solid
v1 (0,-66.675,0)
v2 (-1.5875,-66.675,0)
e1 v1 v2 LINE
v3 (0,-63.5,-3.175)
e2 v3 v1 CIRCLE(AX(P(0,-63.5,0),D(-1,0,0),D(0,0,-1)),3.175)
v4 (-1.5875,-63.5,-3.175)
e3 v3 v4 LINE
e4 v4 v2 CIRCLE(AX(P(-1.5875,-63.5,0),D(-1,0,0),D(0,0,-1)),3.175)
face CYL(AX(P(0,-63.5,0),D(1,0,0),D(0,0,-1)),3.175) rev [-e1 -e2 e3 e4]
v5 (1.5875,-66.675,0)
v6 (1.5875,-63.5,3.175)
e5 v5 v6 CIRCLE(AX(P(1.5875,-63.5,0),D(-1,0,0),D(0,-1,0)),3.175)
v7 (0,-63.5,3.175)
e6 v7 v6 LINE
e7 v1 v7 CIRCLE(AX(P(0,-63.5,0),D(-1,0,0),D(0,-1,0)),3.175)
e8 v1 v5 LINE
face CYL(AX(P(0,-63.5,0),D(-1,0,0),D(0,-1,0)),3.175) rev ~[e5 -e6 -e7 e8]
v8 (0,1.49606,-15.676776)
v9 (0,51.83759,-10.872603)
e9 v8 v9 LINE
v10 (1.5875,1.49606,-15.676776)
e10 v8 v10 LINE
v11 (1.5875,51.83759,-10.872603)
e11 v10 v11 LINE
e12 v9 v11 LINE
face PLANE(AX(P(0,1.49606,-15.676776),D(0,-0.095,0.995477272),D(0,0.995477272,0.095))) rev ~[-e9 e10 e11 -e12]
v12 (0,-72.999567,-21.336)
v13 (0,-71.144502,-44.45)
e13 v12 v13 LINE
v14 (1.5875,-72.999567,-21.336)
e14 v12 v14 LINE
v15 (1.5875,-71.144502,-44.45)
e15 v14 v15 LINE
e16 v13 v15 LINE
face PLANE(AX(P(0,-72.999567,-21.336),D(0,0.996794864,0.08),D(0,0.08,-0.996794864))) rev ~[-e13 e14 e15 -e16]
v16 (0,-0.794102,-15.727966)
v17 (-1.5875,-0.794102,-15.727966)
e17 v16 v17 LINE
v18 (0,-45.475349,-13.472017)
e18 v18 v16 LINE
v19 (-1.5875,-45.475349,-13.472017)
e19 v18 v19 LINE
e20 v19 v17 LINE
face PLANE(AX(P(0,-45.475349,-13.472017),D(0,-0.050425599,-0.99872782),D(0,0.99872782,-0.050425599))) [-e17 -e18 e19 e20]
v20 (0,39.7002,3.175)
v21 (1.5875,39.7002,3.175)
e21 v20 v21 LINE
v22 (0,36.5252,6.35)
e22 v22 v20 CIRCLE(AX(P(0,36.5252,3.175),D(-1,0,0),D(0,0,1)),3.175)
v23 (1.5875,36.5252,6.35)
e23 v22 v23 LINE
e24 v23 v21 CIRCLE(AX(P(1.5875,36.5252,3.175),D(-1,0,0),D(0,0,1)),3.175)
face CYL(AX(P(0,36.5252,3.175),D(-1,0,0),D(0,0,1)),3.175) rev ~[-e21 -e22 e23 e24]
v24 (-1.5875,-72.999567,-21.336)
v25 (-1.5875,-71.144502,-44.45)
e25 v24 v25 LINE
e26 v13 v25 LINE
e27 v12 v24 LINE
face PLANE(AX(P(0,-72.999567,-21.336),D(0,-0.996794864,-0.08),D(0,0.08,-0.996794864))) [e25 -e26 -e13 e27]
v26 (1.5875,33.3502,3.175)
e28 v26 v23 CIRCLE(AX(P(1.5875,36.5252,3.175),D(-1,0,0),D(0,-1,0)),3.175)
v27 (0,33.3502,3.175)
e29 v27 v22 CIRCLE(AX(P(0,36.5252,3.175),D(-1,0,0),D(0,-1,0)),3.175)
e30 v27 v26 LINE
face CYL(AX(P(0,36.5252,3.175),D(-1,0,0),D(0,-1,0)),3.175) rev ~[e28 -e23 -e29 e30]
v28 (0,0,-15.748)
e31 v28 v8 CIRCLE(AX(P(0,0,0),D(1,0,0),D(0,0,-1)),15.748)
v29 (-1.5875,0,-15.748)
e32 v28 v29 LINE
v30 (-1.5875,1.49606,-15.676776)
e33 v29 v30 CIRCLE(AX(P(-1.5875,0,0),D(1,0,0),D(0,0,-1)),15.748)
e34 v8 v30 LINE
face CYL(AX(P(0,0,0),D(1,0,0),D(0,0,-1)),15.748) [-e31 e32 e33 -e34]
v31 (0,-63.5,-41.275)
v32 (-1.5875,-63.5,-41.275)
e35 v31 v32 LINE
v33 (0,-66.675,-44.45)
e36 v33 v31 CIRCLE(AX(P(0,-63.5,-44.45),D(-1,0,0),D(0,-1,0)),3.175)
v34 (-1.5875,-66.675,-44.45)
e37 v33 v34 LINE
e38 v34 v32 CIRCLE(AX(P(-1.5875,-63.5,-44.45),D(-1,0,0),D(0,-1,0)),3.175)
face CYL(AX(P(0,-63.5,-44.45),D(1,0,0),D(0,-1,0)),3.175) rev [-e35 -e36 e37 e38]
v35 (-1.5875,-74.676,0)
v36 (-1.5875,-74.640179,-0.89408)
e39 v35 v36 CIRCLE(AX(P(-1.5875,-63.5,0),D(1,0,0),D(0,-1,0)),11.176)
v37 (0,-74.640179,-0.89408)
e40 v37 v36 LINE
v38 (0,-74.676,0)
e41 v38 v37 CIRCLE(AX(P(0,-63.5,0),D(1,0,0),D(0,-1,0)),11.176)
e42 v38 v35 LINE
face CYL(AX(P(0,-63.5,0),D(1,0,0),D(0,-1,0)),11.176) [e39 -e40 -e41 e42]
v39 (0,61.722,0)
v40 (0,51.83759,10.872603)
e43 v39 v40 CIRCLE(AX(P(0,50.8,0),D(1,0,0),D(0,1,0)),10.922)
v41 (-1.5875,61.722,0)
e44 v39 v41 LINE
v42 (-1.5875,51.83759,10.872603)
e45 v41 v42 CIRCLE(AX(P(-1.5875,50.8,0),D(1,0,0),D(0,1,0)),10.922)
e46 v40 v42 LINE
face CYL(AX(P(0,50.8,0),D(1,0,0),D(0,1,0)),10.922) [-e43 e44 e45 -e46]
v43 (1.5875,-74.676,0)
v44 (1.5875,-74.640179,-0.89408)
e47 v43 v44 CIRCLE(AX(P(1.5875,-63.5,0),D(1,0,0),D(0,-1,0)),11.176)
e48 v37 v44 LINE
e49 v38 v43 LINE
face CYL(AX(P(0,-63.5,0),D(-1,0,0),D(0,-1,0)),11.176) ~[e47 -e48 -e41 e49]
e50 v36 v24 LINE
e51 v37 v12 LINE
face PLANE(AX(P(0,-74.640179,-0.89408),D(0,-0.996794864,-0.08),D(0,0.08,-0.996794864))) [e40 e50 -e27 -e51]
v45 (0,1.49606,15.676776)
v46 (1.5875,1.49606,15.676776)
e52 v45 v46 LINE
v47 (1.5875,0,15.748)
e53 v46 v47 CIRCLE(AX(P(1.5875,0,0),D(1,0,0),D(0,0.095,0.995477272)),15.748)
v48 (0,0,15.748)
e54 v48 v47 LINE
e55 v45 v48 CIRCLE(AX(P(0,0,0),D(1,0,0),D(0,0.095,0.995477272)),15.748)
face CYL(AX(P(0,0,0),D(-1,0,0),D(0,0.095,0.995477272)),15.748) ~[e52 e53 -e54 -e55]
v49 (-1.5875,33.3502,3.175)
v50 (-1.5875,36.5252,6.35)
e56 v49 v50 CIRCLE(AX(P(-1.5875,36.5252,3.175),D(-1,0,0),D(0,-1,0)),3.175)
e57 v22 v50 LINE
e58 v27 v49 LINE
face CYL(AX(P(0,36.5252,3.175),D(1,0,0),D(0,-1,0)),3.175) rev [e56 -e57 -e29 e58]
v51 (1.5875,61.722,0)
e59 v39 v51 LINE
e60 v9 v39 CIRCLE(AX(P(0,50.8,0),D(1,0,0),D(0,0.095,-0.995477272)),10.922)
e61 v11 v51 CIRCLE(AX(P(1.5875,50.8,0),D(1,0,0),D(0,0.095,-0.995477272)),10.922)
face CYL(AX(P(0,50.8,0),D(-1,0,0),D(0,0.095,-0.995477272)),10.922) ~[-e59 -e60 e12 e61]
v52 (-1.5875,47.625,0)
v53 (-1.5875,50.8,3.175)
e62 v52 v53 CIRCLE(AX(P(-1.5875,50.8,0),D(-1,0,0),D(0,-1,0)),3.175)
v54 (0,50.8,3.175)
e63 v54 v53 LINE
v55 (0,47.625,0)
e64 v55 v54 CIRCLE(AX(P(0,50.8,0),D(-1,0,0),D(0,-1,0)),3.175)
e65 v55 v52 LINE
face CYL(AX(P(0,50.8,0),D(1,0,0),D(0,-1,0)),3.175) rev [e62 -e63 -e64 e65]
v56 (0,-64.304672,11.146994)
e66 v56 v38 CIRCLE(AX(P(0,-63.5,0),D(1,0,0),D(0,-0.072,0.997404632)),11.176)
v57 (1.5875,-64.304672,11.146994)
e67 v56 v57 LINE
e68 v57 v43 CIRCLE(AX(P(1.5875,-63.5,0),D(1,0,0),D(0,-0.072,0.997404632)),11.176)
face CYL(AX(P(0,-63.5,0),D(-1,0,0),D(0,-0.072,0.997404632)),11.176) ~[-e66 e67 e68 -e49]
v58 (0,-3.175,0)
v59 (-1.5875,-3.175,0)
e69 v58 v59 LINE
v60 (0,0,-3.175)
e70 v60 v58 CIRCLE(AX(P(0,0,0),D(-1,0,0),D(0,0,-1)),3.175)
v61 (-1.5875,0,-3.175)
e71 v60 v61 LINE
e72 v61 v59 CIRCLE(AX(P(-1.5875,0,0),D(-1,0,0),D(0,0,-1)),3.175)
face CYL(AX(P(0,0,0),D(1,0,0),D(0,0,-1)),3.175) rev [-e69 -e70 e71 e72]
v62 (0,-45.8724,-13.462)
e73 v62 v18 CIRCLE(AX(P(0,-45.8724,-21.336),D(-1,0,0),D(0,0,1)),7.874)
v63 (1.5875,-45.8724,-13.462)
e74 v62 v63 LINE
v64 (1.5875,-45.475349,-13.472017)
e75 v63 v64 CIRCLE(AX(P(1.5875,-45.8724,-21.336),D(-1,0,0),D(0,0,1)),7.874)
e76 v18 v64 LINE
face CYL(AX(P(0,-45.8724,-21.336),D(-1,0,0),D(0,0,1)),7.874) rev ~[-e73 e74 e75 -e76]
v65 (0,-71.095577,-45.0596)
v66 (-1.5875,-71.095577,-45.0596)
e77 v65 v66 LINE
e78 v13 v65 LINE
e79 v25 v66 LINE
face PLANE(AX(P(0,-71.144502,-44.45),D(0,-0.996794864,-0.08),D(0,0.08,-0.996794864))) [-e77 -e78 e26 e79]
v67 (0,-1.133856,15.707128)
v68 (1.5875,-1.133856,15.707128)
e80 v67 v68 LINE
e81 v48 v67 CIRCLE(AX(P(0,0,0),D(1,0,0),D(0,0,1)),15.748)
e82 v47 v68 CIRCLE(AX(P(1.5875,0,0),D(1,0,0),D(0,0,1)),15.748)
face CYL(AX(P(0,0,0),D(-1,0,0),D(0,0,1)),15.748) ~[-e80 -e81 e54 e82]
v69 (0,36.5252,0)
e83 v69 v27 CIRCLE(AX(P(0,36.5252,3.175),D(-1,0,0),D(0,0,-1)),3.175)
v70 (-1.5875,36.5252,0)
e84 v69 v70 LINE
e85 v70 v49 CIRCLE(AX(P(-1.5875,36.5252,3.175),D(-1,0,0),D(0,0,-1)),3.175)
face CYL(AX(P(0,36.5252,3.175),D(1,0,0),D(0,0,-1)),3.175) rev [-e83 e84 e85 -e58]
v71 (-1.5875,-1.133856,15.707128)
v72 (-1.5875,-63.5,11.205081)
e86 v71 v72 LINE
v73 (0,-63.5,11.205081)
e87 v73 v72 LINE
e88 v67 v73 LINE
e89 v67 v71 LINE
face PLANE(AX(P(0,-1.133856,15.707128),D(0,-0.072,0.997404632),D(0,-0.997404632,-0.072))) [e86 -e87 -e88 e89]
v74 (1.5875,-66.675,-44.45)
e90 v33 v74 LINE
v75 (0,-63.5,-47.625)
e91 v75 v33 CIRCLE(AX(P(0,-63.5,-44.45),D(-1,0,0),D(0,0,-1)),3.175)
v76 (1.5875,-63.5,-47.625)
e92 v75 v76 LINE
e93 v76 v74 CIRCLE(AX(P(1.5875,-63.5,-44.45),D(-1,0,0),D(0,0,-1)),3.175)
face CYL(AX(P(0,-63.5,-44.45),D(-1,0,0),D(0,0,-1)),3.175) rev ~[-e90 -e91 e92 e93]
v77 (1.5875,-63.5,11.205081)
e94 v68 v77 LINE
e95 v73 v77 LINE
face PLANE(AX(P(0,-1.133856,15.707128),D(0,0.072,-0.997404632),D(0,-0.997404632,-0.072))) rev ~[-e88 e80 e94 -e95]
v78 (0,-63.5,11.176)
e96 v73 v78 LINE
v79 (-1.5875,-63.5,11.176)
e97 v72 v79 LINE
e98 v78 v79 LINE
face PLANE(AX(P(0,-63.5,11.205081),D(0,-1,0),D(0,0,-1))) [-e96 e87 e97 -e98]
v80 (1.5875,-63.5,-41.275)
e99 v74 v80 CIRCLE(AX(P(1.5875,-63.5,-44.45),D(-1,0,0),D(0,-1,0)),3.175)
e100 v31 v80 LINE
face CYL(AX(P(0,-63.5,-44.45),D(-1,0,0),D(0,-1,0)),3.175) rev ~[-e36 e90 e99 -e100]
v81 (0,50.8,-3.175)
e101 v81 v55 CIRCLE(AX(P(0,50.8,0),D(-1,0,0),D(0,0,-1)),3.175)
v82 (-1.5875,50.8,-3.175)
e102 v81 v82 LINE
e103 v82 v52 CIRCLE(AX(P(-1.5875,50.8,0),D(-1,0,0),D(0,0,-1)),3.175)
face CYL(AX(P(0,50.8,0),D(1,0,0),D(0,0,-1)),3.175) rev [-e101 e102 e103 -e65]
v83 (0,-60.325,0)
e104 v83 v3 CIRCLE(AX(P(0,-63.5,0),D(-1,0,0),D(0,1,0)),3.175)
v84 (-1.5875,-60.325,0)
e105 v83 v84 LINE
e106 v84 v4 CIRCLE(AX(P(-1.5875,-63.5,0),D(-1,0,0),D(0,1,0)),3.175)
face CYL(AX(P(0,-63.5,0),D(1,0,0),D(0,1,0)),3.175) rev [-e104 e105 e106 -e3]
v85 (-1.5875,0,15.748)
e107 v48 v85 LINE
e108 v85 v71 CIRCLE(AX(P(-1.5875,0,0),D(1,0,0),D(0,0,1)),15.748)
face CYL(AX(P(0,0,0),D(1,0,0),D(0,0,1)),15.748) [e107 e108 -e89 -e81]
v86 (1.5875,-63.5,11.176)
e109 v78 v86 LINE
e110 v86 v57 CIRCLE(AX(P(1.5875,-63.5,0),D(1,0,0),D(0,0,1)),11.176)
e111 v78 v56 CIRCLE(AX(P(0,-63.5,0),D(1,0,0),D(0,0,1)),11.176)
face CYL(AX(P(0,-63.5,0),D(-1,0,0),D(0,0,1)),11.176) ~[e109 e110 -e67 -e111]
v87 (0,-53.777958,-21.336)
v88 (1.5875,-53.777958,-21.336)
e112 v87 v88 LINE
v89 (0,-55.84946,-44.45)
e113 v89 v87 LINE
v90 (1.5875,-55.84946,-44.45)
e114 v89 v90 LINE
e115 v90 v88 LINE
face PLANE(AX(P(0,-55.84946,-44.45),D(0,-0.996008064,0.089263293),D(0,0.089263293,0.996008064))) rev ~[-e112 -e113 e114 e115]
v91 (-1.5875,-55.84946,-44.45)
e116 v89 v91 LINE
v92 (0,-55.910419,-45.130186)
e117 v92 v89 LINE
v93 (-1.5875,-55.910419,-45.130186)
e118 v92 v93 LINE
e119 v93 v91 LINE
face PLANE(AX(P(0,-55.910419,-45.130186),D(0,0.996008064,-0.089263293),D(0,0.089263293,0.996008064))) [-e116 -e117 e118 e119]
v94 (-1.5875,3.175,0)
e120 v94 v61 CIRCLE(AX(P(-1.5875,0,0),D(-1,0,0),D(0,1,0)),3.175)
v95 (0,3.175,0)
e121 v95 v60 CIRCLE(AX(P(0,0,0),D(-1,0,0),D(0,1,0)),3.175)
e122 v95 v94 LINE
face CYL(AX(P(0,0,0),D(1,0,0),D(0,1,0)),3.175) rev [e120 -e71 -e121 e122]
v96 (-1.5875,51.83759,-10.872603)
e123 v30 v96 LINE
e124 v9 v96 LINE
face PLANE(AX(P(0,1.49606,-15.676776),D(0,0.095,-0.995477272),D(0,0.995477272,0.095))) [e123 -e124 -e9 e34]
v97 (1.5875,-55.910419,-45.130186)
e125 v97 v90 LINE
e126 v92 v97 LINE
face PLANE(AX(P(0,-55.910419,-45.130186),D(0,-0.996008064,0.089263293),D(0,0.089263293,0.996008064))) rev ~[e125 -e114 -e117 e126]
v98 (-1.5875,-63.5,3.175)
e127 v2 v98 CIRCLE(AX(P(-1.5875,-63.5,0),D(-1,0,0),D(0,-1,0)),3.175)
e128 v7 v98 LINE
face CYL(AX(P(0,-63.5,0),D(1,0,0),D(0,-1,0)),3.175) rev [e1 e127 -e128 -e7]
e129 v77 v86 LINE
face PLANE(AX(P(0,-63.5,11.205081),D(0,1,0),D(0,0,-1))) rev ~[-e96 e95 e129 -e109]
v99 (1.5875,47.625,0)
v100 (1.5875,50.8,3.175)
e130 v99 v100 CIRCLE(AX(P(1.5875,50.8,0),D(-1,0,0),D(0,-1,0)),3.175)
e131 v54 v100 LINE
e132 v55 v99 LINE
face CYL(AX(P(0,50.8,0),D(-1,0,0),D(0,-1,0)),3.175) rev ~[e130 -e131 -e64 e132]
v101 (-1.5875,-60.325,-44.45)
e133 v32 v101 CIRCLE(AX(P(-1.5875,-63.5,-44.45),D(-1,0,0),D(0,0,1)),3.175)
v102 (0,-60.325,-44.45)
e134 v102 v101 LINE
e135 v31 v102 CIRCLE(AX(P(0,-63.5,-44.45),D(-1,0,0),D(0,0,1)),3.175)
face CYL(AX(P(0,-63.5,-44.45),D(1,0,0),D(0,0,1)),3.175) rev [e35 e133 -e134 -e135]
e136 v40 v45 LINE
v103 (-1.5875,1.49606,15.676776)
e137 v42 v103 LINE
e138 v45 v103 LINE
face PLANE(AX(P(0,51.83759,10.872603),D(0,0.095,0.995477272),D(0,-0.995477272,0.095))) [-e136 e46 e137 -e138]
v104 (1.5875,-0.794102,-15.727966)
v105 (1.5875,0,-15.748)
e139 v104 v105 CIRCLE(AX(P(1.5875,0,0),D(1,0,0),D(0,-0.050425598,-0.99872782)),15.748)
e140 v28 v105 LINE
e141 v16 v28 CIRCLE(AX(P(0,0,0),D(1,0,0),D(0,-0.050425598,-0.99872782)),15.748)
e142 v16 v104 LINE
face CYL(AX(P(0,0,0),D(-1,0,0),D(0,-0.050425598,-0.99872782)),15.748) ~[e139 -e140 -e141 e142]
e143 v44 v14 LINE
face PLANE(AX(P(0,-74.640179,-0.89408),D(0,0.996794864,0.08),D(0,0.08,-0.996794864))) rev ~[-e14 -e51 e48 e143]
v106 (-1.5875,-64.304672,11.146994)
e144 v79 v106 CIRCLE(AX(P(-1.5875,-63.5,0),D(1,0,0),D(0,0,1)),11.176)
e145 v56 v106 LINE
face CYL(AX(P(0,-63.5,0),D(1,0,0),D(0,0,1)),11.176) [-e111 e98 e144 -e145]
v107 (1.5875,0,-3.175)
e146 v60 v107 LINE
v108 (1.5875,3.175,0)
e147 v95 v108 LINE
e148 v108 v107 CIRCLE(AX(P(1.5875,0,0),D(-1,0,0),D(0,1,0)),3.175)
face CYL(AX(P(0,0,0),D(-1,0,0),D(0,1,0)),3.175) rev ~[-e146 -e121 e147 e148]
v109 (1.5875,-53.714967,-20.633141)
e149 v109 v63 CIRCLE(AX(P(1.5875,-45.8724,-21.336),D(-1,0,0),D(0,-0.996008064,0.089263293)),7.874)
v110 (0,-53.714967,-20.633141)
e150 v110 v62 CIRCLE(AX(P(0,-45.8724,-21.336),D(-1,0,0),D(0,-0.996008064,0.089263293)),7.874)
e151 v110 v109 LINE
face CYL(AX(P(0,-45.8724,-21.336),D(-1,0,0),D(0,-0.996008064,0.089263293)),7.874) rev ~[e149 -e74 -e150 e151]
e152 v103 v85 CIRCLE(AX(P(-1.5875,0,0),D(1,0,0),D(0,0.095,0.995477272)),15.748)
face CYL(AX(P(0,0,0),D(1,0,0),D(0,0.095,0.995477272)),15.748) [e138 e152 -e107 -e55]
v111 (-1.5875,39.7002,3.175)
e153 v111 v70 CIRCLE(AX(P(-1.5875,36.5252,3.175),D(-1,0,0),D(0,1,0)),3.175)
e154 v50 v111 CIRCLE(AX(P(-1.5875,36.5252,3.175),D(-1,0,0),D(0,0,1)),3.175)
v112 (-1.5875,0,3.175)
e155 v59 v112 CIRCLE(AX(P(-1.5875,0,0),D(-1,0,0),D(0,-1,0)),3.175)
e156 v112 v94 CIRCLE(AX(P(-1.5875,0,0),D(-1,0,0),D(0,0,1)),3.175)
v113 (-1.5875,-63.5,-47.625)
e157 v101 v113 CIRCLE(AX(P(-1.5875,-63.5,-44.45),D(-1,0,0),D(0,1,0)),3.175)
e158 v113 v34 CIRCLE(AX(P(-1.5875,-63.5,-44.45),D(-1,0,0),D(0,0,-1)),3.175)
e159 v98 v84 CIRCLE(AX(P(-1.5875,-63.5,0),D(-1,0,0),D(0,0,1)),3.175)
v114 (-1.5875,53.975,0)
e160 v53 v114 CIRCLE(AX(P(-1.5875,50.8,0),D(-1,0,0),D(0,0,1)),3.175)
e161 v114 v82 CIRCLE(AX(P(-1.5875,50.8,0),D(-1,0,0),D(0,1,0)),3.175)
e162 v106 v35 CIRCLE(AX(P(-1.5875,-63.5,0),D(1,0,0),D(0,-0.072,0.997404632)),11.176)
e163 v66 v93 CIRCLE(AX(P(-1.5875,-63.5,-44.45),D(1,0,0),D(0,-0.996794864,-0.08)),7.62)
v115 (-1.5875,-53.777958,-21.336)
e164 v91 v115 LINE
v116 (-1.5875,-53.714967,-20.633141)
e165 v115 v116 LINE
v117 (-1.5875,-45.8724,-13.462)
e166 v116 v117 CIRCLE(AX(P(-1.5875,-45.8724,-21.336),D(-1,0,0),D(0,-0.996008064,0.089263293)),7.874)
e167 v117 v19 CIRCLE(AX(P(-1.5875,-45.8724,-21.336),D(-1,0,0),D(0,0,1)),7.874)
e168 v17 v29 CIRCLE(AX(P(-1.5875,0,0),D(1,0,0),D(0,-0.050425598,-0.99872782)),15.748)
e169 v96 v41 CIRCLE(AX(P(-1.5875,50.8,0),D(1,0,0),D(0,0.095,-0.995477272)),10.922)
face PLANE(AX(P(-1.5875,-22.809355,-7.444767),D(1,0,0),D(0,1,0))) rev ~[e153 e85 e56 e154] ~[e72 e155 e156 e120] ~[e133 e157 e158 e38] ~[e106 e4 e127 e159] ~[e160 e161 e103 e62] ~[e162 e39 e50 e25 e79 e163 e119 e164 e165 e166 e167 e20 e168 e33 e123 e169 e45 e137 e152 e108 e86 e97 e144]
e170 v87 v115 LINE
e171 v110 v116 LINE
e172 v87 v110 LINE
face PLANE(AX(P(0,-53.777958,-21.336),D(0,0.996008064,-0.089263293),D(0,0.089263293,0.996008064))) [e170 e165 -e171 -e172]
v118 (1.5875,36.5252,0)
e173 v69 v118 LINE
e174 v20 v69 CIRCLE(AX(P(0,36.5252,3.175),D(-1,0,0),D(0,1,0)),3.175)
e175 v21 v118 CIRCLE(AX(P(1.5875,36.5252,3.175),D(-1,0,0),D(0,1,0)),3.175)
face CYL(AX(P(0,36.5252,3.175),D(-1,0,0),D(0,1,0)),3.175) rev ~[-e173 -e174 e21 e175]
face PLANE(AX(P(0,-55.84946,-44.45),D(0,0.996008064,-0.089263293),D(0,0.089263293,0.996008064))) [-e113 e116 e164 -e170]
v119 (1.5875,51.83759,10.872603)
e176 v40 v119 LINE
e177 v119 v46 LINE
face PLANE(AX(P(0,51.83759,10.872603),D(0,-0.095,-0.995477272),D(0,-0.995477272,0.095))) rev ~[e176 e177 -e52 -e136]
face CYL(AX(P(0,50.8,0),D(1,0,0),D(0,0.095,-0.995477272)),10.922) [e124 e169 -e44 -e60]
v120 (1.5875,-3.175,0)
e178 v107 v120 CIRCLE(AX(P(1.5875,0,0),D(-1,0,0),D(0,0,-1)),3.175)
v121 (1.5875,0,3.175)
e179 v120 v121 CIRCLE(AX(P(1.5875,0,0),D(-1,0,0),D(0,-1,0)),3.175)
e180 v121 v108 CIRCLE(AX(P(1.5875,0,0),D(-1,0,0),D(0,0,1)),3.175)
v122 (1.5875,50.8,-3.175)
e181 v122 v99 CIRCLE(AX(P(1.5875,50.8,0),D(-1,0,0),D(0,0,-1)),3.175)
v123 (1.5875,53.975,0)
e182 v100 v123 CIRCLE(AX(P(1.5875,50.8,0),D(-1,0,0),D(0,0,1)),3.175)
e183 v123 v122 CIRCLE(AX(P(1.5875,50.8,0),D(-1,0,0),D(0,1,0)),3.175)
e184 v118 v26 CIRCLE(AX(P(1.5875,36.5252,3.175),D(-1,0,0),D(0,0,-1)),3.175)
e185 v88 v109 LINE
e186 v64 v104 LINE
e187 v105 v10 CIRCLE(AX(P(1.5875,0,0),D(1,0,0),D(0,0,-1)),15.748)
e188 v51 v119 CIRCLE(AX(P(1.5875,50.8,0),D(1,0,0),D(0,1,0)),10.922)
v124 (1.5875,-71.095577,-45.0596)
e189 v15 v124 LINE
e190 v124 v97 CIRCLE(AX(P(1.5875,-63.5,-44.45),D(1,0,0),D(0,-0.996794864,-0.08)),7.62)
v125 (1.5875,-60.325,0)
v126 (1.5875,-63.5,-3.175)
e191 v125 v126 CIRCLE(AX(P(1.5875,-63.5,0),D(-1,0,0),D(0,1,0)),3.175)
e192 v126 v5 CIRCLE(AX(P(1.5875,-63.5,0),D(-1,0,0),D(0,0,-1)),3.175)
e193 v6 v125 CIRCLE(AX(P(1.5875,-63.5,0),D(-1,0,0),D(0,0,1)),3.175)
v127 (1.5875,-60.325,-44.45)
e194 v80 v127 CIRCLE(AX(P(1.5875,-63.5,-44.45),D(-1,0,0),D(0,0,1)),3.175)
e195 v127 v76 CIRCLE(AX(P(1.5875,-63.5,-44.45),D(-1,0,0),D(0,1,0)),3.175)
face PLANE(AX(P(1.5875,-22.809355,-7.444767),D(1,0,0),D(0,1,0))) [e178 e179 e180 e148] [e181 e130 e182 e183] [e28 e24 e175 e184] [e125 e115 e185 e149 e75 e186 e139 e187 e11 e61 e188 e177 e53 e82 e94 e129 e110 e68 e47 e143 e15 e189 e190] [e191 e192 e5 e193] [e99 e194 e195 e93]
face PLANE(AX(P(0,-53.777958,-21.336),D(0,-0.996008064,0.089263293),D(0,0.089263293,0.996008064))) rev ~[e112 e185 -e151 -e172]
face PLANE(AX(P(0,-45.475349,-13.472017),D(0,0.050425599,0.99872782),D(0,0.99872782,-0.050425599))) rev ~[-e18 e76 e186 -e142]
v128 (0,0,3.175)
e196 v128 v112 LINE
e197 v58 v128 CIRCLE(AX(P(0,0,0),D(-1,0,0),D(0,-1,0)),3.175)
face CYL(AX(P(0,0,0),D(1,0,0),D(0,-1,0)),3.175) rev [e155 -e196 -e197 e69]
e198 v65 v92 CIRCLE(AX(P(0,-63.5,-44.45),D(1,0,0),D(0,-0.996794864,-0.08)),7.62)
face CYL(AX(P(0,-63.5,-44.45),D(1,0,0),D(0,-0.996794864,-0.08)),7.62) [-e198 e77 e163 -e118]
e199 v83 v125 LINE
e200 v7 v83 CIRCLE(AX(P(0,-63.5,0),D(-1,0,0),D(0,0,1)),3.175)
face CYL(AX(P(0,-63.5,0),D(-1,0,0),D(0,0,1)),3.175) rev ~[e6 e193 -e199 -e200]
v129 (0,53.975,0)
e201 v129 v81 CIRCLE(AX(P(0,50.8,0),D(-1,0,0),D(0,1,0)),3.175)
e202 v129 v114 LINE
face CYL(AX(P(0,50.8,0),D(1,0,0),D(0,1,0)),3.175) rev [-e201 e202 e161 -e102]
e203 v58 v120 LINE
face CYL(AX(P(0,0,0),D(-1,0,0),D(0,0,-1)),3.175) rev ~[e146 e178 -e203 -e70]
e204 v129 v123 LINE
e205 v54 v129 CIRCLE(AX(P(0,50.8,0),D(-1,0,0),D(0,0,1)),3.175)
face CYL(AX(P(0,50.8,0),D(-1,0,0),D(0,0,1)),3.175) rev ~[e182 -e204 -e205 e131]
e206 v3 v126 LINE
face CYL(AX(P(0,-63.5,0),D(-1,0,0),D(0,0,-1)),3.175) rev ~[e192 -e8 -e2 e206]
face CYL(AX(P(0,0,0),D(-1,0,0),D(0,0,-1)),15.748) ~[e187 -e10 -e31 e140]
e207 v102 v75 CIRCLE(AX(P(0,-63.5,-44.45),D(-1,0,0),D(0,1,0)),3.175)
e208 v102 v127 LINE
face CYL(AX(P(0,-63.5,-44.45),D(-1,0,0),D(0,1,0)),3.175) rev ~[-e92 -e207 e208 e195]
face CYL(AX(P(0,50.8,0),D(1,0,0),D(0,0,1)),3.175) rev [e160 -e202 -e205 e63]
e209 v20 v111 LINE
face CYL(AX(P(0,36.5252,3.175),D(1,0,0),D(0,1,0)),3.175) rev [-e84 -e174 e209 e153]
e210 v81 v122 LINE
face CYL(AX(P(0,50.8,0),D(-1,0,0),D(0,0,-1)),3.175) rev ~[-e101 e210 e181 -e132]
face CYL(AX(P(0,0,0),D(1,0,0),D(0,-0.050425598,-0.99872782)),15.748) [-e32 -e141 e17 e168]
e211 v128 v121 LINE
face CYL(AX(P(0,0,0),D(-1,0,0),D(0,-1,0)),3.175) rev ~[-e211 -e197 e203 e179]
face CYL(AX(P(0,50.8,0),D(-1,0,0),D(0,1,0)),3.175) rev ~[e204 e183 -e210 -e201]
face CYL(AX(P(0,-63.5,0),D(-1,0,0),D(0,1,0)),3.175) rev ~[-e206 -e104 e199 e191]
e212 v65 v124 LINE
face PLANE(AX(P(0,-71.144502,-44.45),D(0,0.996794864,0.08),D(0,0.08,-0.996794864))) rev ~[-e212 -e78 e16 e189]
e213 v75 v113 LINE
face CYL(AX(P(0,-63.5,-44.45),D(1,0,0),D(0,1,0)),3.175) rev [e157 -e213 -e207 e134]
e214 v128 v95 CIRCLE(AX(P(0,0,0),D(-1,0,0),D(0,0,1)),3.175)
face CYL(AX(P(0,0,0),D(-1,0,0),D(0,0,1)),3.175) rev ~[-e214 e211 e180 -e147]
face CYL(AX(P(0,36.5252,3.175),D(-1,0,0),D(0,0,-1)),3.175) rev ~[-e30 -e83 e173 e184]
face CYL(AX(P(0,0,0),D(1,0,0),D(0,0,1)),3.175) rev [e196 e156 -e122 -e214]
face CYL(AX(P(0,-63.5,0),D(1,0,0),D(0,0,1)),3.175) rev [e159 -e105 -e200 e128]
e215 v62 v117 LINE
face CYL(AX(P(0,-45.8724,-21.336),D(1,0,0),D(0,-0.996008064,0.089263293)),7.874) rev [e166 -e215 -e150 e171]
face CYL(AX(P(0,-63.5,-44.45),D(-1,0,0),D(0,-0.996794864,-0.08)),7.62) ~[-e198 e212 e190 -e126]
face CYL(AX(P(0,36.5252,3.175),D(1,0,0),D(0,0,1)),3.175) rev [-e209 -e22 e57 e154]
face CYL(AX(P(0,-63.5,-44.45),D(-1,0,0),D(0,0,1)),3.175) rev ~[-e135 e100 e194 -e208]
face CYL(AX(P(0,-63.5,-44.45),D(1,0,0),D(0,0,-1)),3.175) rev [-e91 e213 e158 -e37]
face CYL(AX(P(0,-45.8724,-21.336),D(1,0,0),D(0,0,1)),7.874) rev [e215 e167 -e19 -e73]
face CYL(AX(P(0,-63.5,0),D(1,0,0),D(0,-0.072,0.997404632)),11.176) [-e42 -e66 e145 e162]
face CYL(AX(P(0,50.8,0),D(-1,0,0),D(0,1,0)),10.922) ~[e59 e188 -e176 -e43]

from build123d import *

# Parameters (mm, degrees)
F1_DEPTH = 1.5875


with BuildPart() as f1:
    # F0 (on Right) → F1 (new body, symmetric)
    with BuildSketch(Plane.YZ):
        with BuildLine():
            ThreePointArc((0, -3.175), (-2.2450640303, -2.2450640303), (-3.175, 0))
            Line((-3.175, 0), (-45.8724, 0))
            Line((-45.8724, 0), (-45.8724, -13.462))
            ThreePointArc((-45.8724, -13.462), (-45.6738112484, -13.4645046841), (-45.4753488371, -13.4720171431))
            Line((-45.4753488371, -13.4720171431), (-0.7941023258, -15.7279657139))
            ThreePointArc((-0.7941023258, -15.7279657139), (-0.3971775033, -15.7429906317), (0, -15.748))
            Line((0, -15.748), (0, -3.175))
        make_face()
        with BuildLine():
            ThreePointArc((51.83759, -10.8726027699), (58.8815419933, -7.3470240921), (61.722, 0))
            Line((61.722, 0), (53.975, 0))
            ThreePointArc((53.975, 0), (53.0450640303, -2.2450640303), (50.8, -3.175))
            ThreePointArc((50.8, -3.175), (48.5549359697, -2.2450640303), (47.625, 0))
            Line((47.625, 0), (36.5252, 0))
            Line((36.5252, 0), (3.175, 0))
            ThreePointArc((3.175, 0), (2.2450640303, -2.2450640303), (0, -3.175))
            Line((0, -3.175), (0, -15.748))
            ThreePointArc((0, -15.748), (0.7488772211, -15.7301839439), (1.49606, -15.6767760868))
            Line((1.49606, -15.6767760868), (51.83759, -10.8726027699))
        make_face()
        with BuildLine():
            Line((51.83759, 10.8726027699), (1.49606, 15.6767760868))
            ThreePointArc((1.49606, 15.6767760868), (0.7488772211, 15.7301839439), (0, 15.748))
            Line((0, 15.748), (0, 3.175))
            ThreePointArc((0, 3.175), (2.2450640303, 2.2450640303), (3.175, 0))
            Line((3.175, 0), (36.5252, 0))
            Line((36.5252, 0), (47.625, 0))
            ThreePointArc((47.625, 0), (48.5549359697, 2.2450640303), (50.8, 3.175))
            ThreePointArc((50.8, 3.175), (53.0450640303, 2.2450640303), (53.975, 0))
            Line((53.975, 0), (61.722, 0))
            ThreePointArc((61.722, 0), (58.8815419933, 7.3470240921), (51.83759, 10.8726027699))
        make_face()
        with BuildLine():
            ThreePointArc((39.7002, 3.175), (38.7702640303, 0.9299359697), (36.5252, 0))
            ThreePointArc((36.5252, 0), (34.2801359697, 0.9299359697), (33.3502, 3.175))
            ThreePointArc((33.3502, 3.175), (34.2801359697, 5.4200640303), (36.5252, 6.35))
            ThreePointArc((36.5252, 6.35), (38.7702640303, 5.4200640303), (39.7002, 3.175))
        make_face(mode=Mode.SUBTRACT)
        with BuildLine():
            Line((0, 3.175), (0, 15.748))
            ThreePointArc((0, 15.748), (-0.5672962051, 15.7377787192), (-1.133856, 15.7071281452))
            Line((-1.133856, 15.7071281452), (-45.8724, 12.4775710883))
            Line((-45.8724, 12.4775710883), (-45.8724, 0))
            Line((-45.8724, 0), (-3.175, 0))
            ThreePointArc((-3.175, 0), (-2.2450640303, 2.2450640303), (0, 3.175))
        make_face()
        with BuildLine():
            Line((-45.8724, 0), (-45.8724, 12.4775710883))
            Line((-45.8724, 12.4775710883), (-63.5, 11.2050813091))
            Line((-63.5, 11.2050813091), (-63.5, 11.176))
            Line((-63.5, 11.176), (-63.5, 3.175))
            ThreePointArc((-63.5, 3.175), (-61.2549359697, 2.2450640303), (-60.325, 0))
            Line((-60.325, 0), (-45.8724, 0))
        make_face()
        with BuildLine():
            Line((-45.8724, -13.462), (-45.8724, 0))
            Line((-45.8724, 0), (-60.325, 0))
            ThreePointArc((-60.325, 0), (-61.2549359697, -2.2450640303), (-63.5, -3.175))
            Line((-63.5, -3.175), (-63.5, -21.336))
            Line((-63.5, -21.336), (-53.7779584797, -21.336))
            Line((-53.7779584797, -21.336), (-53.7149674997, -20.6331408299))
            ThreePointArc((-53.7149674997, -20.6331408299), (-51.1858528743, -15.5250539021), (-45.8724, -13.462))
        make_face()
        with BuildLine():
            Line((-63.5, -21.336), (-63.5, -3.175))
            ThreePointArc((-63.5, -3.175), (-65.7450640303, -2.2450640303), (-66.675, 0))
            Line((-66.675, 0), (-74.676, 0))
            ThreePointArc((-74.676, 0), (-74.6670412581, -0.4473986372), (-74.640179395, -0.89408))
            Line((-74.640179395, -0.89408), (-72.9995674098, -21.336))
            Line((-72.9995674098, -21.336), (-63.5, -21.336))
        make_face()
        with BuildLine():
            Line((-63.5, 3.175), (-63.5, 11.176))
            ThreePointArc((-63.5, 11.176), (-63.9025973068, 11.1687461878), (-64.304672, 11.1469941676))
            ThreePointArc((-64.304672, 11.1469941676), (-71.6821754525, 7.612816881), (-74.676, 0))
            Line((-74.676, 0), (-66.675, 0))
            ThreePointArc((-66.675, 0), (-65.7450640303, 2.2450640303), (-63.5, 3.175))
        make_face()
        with BuildLine():
            Line((-53.7779584797, -21.336), (-63.5, -21.336))
            Line((-63.5, -21.336), (-63.5, -41.275))
            ThreePointArc((-63.5, -41.275), (-61.2549359697, -42.2049359697), (-60.325, -44.45))
            Line((-60.325, -44.45), (-55.8494595357, -44.45))
            Line((-55.8494595357, -44.45), (-53.7779584797, -21.336))
        make_face()
        with BuildLine():
            Line((-63.5, -41.275), (-63.5, -21.336))
            Line((-63.5, -21.336), (-72.9995674098, -21.336))
            Line((-72.9995674098, -21.336), (-71.1445016709, -44.45))
            Line((-71.1445016709, -44.45), (-66.675, -44.45))
            ThreePointArc((-66.675, -44.45), (-65.7450640303, -42.2049359697), (-63.5, -41.275))
        make_face()
        with BuildLine():
            Line((-55.9104185487, -45.1301862936), (-55.8494595357, -44.45))
            Line((-55.8494595357, -44.45), (-60.325, -44.45))
            ThreePointArc((-60.325, -44.45), (-61.2549359697, -46.6950640303), (-63.5, -47.625))
            Line((-63.5, -47.625), (-63.5, -52.07))
            ThreePointArc((-63.5, -52.07), (-58.3579488313, -50.0734962238), (-55.9104185487, -45.1301862936))
        make_face()
        with BuildLine():
            ThreePointArc((-63.5, -47.625), (-65.7450640303, -46.6950640303), (-66.675, -44.45))
            Line((-66.675, -44.45), (-71.1445016709, -44.45))
            Line((-71.1445016709, -44.45), (-71.0955768603, -45.0596))
            ThreePointArc((-71.0955768603, -45.0596), (-68.6681354471, -50.049533552), (-63.5, -52.07))
            Line((-63.5, -52.07), (-63.5, -47.625))
        make_face()
    extrude(amount=F1_DEPTH, both=True)


solid = f1.part
